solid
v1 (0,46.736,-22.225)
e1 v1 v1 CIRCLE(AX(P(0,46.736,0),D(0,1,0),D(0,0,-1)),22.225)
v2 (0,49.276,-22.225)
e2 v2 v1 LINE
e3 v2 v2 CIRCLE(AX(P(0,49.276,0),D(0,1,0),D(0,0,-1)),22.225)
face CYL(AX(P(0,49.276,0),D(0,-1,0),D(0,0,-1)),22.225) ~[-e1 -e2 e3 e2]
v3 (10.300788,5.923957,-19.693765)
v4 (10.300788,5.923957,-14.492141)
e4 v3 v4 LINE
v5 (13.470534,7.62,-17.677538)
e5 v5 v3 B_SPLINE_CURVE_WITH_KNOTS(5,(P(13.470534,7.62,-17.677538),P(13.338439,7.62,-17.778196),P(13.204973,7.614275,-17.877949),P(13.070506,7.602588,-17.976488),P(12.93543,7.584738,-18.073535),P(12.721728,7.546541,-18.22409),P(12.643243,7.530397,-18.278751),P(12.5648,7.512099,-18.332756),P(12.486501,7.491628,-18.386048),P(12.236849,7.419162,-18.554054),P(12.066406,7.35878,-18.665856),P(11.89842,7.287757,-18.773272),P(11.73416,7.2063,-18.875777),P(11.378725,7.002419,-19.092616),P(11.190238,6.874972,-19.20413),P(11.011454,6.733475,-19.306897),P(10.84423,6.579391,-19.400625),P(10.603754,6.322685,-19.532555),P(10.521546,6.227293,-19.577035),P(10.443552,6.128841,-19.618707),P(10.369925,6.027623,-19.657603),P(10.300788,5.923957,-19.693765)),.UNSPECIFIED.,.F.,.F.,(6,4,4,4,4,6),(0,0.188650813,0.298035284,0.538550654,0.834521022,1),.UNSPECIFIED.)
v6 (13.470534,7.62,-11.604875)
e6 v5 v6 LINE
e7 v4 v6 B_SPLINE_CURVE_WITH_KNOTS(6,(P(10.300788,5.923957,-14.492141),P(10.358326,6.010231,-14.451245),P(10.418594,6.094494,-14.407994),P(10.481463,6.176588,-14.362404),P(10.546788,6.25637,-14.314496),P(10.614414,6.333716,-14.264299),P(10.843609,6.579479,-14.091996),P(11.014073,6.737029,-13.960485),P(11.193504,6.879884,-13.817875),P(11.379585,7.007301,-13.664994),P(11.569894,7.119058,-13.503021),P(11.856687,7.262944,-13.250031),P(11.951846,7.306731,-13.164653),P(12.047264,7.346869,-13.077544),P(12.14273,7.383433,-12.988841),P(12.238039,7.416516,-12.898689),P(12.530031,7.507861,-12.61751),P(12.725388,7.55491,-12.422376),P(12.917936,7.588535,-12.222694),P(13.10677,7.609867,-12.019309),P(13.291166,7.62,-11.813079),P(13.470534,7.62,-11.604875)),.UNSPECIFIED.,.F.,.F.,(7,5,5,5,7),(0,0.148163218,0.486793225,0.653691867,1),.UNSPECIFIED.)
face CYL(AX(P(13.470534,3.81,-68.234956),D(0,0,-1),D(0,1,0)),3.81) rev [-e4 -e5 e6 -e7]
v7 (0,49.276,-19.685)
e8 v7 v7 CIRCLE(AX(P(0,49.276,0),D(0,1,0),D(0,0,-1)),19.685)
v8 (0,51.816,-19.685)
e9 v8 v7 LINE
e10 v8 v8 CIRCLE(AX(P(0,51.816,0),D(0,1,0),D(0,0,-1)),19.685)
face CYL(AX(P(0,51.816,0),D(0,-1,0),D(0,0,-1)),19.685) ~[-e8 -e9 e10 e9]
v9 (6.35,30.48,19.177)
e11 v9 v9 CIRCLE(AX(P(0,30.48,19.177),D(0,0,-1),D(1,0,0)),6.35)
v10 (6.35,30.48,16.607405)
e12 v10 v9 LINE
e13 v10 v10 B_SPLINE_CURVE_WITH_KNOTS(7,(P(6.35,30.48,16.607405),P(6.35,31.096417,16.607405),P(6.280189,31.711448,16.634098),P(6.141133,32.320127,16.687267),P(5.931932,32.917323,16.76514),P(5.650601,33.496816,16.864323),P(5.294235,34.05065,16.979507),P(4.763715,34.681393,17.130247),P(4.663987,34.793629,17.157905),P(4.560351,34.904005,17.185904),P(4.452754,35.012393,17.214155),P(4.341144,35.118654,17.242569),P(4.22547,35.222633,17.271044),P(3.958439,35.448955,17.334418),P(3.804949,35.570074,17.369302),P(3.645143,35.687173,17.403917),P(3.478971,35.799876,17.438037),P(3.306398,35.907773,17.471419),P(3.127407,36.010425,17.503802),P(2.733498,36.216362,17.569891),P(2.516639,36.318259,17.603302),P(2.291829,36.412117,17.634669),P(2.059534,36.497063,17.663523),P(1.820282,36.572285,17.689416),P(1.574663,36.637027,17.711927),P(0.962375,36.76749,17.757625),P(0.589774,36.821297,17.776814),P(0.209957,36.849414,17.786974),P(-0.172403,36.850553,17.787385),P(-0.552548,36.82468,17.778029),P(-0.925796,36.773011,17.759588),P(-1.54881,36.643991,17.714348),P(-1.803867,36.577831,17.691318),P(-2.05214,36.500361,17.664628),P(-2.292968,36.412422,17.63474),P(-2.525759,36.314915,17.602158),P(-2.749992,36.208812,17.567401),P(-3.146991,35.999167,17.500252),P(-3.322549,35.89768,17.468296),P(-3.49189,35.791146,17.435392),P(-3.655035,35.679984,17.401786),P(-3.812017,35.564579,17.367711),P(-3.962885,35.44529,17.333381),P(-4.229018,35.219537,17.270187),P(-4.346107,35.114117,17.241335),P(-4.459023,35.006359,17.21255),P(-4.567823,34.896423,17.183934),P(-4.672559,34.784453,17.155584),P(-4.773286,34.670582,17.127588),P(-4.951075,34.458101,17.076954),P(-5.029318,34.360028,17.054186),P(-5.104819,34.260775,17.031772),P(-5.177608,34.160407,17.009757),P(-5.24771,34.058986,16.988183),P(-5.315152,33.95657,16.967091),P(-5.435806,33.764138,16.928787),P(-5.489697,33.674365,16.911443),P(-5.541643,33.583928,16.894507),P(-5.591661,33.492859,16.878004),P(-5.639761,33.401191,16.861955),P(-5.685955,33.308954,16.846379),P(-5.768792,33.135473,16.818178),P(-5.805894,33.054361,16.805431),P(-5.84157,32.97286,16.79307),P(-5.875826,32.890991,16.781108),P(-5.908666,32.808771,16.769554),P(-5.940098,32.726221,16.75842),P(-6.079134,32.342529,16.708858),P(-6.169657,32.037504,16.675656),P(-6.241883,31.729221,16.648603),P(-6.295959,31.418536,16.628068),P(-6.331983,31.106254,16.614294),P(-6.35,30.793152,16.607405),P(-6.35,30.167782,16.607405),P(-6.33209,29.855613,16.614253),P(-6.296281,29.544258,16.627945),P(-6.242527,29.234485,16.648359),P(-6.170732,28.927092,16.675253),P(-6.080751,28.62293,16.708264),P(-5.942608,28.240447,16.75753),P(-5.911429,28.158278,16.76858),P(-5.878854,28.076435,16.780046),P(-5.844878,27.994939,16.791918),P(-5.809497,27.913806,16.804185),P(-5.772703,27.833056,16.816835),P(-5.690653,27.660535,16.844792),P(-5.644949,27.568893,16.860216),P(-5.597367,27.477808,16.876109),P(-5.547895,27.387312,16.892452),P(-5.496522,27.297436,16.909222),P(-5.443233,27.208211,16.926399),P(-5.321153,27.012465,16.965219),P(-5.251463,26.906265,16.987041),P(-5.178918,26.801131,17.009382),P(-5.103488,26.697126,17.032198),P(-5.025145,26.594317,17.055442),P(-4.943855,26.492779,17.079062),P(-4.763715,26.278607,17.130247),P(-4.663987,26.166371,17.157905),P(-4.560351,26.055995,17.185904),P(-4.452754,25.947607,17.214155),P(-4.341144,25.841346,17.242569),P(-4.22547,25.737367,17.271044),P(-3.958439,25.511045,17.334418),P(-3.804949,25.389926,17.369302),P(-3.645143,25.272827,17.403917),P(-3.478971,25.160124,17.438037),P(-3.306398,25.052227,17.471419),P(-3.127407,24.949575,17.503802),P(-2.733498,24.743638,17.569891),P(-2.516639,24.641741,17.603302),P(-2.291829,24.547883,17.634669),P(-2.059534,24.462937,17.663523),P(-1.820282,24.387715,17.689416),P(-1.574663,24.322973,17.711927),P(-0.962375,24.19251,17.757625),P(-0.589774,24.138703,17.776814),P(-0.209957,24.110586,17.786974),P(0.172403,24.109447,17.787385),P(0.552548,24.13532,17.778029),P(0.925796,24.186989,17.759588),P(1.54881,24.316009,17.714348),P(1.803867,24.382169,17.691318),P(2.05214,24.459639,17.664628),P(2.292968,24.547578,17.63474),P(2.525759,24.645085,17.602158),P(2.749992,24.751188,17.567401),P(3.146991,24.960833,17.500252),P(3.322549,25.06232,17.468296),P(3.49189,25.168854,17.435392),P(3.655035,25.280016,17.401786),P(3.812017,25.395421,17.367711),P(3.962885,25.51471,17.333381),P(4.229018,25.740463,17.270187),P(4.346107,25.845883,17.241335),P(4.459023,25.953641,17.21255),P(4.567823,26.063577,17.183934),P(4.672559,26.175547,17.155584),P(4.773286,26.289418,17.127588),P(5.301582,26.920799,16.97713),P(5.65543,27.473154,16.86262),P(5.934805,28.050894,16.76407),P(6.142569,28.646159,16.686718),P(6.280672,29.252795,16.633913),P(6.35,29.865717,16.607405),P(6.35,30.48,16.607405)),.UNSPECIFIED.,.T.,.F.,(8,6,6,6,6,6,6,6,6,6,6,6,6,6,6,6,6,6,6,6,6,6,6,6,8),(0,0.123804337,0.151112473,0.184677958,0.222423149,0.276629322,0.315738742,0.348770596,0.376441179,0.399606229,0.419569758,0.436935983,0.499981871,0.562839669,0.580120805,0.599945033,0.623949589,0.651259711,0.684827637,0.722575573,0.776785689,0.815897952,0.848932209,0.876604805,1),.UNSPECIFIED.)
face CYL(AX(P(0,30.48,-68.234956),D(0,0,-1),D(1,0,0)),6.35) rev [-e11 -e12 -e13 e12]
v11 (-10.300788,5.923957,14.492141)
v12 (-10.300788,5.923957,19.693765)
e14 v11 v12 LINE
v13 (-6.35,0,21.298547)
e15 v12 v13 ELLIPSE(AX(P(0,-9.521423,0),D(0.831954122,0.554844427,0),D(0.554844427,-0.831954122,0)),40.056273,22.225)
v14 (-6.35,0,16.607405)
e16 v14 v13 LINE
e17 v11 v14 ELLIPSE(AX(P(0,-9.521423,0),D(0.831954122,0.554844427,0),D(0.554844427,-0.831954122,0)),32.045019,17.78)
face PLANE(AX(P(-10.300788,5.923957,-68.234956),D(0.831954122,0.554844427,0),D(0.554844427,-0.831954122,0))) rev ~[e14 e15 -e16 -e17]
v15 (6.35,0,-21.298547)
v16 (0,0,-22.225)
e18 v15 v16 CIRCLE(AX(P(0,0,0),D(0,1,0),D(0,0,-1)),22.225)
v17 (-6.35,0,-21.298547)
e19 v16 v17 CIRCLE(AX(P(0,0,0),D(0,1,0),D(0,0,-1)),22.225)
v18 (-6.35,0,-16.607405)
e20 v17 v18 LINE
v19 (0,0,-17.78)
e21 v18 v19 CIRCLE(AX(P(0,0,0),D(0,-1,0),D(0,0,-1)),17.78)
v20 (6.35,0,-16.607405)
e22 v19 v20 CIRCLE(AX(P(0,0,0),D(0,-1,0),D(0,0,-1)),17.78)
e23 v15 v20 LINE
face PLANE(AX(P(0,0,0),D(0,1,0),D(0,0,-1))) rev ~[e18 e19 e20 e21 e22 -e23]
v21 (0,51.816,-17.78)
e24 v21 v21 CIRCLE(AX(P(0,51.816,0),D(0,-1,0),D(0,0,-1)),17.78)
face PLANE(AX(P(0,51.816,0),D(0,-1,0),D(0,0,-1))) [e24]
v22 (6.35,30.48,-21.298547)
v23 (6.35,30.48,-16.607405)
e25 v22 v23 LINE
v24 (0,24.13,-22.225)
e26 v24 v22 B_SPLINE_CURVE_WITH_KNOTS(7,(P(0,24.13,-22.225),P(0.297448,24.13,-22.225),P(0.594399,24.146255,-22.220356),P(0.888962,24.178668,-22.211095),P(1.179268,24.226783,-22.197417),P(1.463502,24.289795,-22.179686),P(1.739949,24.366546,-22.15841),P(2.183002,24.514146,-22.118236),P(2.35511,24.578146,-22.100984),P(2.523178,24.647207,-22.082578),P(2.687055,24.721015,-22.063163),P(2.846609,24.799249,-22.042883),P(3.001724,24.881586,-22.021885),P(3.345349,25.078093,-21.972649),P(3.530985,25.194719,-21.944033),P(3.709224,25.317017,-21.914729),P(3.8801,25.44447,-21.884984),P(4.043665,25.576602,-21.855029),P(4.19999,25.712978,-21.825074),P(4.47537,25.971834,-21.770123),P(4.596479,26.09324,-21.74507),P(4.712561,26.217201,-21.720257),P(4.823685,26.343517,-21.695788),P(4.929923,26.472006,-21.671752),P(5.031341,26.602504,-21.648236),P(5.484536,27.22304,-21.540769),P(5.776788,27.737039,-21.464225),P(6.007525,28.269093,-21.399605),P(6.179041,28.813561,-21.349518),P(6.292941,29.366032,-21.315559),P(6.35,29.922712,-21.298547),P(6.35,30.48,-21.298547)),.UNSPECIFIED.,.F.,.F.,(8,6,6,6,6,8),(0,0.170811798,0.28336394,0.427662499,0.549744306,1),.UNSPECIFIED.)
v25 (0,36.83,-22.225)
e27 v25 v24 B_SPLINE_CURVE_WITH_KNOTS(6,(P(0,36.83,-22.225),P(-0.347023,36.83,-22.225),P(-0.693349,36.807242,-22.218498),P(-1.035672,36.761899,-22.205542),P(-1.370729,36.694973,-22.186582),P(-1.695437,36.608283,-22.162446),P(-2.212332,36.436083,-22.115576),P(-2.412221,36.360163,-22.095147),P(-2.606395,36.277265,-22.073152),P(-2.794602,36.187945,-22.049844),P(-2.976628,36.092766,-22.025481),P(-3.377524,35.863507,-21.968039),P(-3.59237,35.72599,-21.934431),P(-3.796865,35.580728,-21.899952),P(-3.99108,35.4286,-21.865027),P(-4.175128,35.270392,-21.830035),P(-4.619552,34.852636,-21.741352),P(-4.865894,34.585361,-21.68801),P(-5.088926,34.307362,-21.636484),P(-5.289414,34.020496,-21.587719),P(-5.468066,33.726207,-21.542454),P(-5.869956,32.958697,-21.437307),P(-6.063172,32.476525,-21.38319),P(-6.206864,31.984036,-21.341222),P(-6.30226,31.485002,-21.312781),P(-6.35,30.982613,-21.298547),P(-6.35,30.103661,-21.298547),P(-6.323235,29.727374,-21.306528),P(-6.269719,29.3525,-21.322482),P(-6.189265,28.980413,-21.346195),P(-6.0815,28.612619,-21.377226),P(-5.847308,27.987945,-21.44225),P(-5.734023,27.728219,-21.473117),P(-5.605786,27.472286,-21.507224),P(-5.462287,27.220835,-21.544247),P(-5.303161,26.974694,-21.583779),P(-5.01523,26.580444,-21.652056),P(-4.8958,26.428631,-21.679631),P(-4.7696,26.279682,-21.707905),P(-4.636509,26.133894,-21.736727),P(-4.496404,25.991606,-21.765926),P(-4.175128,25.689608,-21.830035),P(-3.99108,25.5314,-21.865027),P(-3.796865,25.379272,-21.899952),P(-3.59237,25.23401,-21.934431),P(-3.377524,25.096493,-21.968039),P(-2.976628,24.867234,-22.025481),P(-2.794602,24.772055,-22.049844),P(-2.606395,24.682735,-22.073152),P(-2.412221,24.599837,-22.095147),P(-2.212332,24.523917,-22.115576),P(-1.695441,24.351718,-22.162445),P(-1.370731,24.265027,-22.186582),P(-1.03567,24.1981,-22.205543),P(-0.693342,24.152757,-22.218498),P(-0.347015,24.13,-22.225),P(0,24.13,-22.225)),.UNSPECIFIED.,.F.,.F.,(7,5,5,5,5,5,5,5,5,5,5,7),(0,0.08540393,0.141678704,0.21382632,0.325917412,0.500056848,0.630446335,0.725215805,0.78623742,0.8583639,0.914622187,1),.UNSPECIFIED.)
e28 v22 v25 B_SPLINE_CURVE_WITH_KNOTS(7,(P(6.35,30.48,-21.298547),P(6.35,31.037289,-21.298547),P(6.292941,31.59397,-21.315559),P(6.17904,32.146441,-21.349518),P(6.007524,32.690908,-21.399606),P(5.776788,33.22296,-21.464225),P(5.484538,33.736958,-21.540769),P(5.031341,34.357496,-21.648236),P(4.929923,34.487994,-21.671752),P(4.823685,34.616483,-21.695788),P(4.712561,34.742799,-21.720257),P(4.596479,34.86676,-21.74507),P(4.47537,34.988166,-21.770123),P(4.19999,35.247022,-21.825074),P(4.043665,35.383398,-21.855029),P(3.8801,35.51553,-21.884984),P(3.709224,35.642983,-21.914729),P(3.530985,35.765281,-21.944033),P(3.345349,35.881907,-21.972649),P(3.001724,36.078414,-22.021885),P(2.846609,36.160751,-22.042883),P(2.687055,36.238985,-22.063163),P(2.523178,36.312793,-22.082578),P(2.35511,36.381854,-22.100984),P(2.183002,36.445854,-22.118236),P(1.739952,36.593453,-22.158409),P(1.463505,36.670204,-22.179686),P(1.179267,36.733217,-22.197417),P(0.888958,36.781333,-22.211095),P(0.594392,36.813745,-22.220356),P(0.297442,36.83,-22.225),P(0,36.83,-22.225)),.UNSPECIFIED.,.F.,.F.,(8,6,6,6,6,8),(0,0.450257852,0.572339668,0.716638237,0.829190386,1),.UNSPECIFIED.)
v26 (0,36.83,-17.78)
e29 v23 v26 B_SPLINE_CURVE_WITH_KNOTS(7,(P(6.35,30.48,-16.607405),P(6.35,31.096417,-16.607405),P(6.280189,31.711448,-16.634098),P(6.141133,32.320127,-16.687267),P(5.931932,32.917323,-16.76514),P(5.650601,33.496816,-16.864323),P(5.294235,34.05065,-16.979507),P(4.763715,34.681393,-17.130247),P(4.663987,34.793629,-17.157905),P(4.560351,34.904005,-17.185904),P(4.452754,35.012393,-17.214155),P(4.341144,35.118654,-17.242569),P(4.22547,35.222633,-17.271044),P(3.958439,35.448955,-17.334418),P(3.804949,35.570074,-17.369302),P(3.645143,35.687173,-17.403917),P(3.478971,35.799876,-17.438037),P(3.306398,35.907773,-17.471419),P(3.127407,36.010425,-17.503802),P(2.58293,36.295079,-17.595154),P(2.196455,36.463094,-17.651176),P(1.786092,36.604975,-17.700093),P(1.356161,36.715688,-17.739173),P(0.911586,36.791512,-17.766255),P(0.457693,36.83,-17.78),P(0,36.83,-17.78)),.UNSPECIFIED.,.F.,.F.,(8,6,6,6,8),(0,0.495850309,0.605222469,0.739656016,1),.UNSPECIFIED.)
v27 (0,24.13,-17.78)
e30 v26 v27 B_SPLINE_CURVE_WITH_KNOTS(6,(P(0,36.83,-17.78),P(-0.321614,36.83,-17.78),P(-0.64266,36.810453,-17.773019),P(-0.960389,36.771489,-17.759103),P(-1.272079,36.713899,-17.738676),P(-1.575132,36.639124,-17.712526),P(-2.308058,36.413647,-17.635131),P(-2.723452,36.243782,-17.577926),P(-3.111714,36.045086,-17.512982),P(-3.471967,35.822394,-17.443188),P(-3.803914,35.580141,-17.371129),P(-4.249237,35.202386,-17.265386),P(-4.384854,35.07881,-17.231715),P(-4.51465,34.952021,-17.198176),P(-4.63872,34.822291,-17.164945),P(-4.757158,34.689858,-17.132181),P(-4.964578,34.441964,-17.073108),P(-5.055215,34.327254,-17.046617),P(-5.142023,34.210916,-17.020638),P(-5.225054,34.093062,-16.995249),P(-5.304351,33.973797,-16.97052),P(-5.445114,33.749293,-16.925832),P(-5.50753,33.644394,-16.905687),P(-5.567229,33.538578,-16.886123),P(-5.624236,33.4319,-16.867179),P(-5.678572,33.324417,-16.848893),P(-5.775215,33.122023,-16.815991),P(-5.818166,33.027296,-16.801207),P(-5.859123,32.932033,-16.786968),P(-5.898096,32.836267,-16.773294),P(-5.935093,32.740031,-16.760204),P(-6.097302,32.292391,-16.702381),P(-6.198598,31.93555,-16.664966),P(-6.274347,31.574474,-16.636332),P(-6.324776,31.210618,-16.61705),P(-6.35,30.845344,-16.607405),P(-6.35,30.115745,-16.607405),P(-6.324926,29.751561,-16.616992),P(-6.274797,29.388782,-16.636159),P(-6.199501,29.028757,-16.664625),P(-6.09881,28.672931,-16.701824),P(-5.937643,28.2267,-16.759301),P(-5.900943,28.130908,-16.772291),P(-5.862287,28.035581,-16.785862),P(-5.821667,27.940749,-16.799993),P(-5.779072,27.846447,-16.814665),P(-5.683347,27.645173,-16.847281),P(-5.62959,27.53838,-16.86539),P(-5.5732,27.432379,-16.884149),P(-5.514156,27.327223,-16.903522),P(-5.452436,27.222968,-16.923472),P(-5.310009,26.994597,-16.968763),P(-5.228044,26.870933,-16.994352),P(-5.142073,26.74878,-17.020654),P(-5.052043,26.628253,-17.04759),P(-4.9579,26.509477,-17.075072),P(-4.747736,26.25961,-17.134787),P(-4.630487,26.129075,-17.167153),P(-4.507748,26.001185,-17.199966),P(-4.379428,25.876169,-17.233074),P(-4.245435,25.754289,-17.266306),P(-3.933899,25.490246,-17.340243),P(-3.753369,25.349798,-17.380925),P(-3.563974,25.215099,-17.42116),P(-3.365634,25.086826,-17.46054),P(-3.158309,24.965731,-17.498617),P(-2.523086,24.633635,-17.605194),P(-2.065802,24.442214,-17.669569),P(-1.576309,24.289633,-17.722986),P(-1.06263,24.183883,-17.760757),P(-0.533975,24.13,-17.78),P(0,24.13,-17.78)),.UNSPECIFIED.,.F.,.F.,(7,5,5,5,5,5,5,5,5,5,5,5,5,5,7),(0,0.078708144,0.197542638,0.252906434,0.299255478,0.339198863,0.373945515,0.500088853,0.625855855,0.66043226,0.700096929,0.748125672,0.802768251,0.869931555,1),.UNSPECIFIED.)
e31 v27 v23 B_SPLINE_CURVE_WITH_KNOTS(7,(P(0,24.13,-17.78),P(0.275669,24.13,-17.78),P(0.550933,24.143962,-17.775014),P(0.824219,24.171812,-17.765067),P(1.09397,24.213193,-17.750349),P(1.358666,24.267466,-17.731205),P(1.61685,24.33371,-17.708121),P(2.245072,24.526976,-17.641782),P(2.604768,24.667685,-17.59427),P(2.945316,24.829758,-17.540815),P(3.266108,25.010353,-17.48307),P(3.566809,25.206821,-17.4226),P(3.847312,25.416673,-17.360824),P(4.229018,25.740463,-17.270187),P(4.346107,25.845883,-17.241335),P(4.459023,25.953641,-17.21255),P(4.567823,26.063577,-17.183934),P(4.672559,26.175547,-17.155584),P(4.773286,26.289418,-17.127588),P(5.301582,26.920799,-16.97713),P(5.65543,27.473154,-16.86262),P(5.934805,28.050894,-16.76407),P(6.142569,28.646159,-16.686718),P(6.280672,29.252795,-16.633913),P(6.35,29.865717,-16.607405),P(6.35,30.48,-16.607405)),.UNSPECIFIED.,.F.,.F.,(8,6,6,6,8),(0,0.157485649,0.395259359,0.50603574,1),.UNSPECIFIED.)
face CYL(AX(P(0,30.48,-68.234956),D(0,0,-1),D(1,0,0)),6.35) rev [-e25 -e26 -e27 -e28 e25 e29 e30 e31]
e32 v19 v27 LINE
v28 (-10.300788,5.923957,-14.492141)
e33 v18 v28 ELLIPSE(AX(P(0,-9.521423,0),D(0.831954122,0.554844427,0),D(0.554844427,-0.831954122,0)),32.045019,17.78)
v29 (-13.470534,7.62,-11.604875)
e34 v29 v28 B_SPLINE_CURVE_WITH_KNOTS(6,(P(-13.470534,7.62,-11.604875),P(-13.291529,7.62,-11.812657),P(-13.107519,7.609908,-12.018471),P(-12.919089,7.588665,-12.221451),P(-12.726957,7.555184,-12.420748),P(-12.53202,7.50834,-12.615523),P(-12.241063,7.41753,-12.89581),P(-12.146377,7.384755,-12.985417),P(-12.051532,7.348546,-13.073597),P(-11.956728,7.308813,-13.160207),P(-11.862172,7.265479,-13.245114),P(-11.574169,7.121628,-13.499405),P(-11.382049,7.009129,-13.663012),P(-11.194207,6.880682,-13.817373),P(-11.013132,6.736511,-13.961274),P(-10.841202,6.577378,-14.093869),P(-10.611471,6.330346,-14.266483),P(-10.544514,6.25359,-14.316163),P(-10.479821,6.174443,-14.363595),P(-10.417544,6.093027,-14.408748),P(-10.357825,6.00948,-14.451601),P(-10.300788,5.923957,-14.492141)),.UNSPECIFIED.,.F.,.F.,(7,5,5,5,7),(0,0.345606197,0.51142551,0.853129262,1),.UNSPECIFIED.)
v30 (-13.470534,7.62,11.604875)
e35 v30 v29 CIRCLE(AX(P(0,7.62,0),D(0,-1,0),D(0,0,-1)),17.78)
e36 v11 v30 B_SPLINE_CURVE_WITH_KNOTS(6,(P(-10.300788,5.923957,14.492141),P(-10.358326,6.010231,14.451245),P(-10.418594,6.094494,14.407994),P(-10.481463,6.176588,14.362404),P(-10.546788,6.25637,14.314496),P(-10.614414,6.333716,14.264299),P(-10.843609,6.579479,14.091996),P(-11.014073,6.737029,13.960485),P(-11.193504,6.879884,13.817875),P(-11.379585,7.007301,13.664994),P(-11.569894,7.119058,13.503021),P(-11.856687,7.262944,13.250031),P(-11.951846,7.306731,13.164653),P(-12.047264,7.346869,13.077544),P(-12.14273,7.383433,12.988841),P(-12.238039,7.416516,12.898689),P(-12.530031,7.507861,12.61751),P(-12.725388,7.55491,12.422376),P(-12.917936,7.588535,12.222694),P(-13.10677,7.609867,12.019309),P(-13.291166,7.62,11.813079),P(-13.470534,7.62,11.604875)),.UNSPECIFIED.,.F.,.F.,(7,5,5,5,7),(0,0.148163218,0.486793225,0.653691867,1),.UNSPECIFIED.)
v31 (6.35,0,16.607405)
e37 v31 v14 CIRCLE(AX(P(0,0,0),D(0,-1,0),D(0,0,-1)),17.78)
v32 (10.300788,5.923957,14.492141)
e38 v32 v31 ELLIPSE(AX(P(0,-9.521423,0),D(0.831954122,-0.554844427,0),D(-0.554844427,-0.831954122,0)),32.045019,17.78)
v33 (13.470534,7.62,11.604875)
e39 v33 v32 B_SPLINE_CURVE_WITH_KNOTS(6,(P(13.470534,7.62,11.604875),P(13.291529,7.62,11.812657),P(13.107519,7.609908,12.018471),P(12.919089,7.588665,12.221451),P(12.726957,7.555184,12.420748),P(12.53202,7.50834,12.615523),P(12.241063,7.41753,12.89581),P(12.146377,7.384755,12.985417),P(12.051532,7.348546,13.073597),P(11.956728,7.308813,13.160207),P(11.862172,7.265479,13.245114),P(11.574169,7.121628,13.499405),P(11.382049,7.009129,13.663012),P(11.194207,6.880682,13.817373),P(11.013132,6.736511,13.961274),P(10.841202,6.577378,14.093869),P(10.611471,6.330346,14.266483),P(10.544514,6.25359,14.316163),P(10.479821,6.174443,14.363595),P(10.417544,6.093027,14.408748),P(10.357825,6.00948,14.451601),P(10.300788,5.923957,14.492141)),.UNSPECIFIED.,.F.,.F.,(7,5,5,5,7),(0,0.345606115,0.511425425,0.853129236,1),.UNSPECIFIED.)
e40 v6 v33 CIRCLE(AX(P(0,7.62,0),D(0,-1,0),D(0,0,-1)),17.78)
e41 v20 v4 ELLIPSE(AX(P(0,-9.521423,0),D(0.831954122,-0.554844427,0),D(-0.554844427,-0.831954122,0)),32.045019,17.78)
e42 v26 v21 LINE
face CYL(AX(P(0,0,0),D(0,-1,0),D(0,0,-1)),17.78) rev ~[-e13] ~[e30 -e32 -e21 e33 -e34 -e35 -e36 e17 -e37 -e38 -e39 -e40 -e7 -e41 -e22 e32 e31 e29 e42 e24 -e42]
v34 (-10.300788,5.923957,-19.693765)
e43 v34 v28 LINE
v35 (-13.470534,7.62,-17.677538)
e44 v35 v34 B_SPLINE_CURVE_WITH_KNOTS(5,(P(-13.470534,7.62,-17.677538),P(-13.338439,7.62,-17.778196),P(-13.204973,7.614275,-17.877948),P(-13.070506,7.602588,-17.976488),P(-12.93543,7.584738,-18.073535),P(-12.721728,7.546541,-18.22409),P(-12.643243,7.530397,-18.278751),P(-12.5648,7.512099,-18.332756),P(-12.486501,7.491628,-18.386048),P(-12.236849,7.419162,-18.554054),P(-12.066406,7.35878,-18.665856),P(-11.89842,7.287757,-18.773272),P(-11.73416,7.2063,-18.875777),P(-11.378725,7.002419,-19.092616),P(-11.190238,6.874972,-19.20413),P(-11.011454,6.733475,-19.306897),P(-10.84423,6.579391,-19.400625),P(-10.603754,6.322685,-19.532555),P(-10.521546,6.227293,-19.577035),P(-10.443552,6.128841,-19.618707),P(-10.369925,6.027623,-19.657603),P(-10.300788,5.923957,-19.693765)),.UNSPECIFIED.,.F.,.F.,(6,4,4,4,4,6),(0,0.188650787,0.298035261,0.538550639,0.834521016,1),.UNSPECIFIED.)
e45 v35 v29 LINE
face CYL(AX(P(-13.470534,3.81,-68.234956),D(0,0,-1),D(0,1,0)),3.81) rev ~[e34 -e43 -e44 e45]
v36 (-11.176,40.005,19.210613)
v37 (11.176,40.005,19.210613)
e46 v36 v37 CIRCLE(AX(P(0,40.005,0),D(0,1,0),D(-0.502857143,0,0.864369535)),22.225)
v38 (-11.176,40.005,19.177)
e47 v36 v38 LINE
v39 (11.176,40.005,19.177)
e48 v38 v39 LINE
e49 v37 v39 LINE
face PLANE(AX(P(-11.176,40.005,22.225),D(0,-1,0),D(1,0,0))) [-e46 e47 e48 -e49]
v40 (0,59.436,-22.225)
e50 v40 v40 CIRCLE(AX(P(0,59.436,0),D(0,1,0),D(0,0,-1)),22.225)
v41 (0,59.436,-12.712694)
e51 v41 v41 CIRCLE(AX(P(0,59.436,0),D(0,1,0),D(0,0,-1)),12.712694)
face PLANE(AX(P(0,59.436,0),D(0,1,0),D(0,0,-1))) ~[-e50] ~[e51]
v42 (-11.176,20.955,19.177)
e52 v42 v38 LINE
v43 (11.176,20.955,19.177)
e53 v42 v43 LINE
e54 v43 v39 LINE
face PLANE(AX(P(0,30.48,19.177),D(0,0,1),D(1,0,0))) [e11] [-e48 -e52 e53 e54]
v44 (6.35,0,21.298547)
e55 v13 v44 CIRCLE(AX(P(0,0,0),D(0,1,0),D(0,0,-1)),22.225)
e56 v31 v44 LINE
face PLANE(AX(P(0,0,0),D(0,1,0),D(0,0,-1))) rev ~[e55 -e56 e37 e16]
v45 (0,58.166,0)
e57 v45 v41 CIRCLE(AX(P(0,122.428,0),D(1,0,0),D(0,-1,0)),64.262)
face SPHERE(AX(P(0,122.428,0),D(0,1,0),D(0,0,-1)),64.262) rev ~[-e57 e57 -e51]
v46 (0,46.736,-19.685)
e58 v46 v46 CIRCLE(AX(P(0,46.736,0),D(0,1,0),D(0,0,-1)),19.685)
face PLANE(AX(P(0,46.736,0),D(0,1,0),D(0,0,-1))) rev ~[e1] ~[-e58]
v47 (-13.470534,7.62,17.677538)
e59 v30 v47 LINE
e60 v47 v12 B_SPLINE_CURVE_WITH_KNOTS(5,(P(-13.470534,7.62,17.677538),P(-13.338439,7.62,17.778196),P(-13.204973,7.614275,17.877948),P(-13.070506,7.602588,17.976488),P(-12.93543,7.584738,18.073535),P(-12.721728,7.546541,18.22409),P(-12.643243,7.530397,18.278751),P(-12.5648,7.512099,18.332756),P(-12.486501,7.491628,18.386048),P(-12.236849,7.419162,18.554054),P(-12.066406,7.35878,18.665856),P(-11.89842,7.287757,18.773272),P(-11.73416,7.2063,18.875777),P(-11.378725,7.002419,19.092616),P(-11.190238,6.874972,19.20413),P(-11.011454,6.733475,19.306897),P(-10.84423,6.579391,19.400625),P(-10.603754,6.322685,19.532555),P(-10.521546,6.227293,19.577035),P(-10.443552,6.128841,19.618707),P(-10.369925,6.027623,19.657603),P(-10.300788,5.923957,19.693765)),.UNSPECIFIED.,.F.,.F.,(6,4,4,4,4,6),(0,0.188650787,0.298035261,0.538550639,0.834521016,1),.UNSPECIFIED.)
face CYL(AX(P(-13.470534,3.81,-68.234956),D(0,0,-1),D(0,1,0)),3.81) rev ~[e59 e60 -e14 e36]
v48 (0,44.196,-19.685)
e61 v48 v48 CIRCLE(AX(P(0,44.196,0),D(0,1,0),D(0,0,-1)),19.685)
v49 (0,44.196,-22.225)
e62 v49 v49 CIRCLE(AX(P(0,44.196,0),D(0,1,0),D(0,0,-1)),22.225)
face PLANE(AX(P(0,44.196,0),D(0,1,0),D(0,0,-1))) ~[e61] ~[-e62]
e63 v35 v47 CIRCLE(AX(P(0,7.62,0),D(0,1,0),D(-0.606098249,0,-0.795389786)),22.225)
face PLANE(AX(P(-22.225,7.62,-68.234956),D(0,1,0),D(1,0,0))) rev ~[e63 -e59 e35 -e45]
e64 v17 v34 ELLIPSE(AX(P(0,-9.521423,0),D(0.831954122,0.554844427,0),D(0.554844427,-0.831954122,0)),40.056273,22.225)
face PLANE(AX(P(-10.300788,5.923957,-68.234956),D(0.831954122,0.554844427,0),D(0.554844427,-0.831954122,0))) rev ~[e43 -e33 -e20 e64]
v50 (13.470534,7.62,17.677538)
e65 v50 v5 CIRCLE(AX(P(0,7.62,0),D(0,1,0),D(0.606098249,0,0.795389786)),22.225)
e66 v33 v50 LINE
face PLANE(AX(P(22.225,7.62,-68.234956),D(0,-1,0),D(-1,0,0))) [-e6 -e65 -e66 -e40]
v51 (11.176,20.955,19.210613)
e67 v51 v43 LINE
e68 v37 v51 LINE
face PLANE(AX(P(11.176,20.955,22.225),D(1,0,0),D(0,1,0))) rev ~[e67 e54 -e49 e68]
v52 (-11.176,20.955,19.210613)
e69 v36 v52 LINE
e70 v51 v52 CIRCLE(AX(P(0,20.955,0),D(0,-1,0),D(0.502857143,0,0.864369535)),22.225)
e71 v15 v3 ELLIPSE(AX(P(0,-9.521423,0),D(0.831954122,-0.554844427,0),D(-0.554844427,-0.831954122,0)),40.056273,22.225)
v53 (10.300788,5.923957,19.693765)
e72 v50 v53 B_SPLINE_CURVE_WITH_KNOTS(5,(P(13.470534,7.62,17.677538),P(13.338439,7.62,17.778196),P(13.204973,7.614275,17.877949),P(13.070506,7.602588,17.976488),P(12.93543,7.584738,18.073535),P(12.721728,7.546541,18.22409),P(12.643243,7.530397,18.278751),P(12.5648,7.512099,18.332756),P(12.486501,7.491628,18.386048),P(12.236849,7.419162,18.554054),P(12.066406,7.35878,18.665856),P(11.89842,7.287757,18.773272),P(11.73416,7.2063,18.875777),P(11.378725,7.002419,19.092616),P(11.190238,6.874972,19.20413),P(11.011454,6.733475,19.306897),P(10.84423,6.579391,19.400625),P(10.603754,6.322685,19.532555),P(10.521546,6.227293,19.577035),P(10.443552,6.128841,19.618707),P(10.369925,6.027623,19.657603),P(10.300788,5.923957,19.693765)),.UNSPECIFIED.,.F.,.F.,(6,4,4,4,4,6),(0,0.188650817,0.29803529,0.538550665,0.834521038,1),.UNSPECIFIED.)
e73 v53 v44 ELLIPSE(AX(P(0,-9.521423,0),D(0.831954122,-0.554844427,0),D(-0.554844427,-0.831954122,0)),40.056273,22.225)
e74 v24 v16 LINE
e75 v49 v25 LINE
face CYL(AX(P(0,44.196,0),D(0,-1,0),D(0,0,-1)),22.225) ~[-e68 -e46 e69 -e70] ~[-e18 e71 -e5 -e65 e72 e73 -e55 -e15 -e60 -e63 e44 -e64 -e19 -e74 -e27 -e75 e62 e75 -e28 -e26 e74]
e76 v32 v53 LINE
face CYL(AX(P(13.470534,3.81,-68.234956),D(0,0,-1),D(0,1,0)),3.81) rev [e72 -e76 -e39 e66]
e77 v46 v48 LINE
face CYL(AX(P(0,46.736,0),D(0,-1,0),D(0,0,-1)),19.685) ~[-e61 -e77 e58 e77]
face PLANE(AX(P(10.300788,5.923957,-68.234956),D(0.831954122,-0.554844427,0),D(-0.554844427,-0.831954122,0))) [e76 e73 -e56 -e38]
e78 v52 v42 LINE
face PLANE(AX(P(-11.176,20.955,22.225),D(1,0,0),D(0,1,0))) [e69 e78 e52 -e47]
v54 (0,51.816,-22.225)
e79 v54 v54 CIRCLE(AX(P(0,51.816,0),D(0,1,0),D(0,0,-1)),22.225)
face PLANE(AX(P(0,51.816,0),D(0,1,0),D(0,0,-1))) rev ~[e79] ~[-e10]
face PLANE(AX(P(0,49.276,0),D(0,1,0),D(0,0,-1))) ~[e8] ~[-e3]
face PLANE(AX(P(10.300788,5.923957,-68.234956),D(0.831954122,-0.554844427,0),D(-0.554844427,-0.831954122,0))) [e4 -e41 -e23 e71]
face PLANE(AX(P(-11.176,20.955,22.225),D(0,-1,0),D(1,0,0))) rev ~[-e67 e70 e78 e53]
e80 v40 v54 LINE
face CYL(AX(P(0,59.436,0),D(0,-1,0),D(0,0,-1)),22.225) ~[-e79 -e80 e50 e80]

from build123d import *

# Parameters (mm, degrees)
CUT_EXTRUDE1_DEPTH      = 68.23495628
CUT_EXTRUDE1_DEPTH_BACK = 68.23495628
SKETCH3_R               = 17.78
CUT_EXTRUDE2_DEPTH      = 51.816
CUT_EXTRUDE3_DEPTH      = 68.234956346
CUT_EXTRUDE3_DEPTH_BACK = 68.234956346
SKETCH4_R               = 6.35
CUT_EXTRUDE4_START      = 22.225
SKETCH5_W               = 22.352
SKETCH5_H               = 19.05
CUT_EXTRUDE4_DEPTH      = 3.048


with BuildPart() as part:
    # Sketch1 → Revolve1 (revolve)
    with BuildSketch(Plane.XY, mode=Mode.PRIVATE) as revolve1_sk:
        with BuildLine():
            Line((0, 0), (0, 58.166))
            ThreePointArc((0, 58.166), (6.387986381, 58.484288237), (12.712693656, 59.436))
            Line((12.712693656, 59.436), (22.225, 59.436))
            Line((22.225, 59.436), (22.225, 51.816))
            Line((22.225, 51.816), (19.685, 51.816))
            Line((19.685, 51.816), (19.685, 49.276))
            Line((19.685, 49.276), (22.225, 49.276))
            Line((22.225, 49.276), (22.225, 46.736))
            Line((22.225, 46.736), (19.685, 46.736))
            Line((19.685, 46.736), (19.685, 44.196))
            Line((19.685, 44.196), (22.225, 44.196))
            Line((22.225, 44.196), (22.225, 0))
            Line((22.225, 0), (0, 0))
        make_face()
    revolve(revolve1_sk.sketch.rotate(Axis((0, 59.436, 0), (0, 1, 0)), 90), axis=Axis((0, 59.436, 0), (0, 1, 0)))

    # Sketch2 → Cut-Extrude1 (cut, two sides: drawn at the far end of the back side and taken through both)
    with BuildSketch(Plane.XY.offset(-CUT_EXTRUDE1_DEPTH_BACK)):
        with BuildLine():
            Line((22.225, 0), (22.225, 7.62))
            Line((22.225, 7.62), (13.470533586, 7.62))
            ThreePointArc((13.470533586, 7.62), (11.673046061, 7.169336035), (10.300788381, 5.923957269))
            Line((10.300788381, 5.923957269), (6.35, 0))
            Line((6.35, 0), (22.225, 0))
        make_face()
        with BuildLine():
            Line((-22.225, 0), (-22.225, 7.62))
            Line((-22.225, 7.62), (-13.470533586, 7.62))
            ThreePointArc((-13.470533586, 7.62), (-11.673046061, 7.169336035), (-10.300788381, 5.923957269))
            Line((-10.300788381, 5.923957269), (-6.35, 0))
            Line((-6.35, 0), (-22.225, 0))
        make_face()
    extrude(amount=CUT_EXTRUDE1_DEPTH + CUT_EXTRUDE1_DEPTH_BACK, mode=Mode.SUBTRACT)

    # Sketch3 → Cut-Extrude2 (cut)
    with BuildSketch(Plane.XZ):
        with Locations(Location((0, 0, 0), (0, 0, 270))):
            Circle(SKETCH3_R)
    extrude(amount=-CUT_EXTRUDE2_DEPTH, mode=Mode.SUBTRACT)

    # Sketch4 → Cut-Extrude3 (cut, two sides: drawn at the far end of the back side and taken through both)
    with BuildSketch(Plane.XY.offset(-CUT_EXTRUDE3_DEPTH_BACK)):
        with Locations((0, 30.48)):
            Circle(SKETCH4_R)
    extrude(amount=CUT_EXTRUDE3_DEPTH + CUT_EXTRUDE3_DEPTH_BACK, mode=Mode.SUBTRACT)

    # Sketch5 → Cut-Extrude4 (cut)
    with BuildSketch(Plane.XY.offset(CUT_EXTRUDE4_START)):
        with Locations((0, 30.48)):
            Rectangle(SKETCH5_W, SKETCH5_H)
    extrude(amount=-CUT_EXTRUDE4_DEPTH, mode=Mode.SUBTRACT)


solid = part.part
